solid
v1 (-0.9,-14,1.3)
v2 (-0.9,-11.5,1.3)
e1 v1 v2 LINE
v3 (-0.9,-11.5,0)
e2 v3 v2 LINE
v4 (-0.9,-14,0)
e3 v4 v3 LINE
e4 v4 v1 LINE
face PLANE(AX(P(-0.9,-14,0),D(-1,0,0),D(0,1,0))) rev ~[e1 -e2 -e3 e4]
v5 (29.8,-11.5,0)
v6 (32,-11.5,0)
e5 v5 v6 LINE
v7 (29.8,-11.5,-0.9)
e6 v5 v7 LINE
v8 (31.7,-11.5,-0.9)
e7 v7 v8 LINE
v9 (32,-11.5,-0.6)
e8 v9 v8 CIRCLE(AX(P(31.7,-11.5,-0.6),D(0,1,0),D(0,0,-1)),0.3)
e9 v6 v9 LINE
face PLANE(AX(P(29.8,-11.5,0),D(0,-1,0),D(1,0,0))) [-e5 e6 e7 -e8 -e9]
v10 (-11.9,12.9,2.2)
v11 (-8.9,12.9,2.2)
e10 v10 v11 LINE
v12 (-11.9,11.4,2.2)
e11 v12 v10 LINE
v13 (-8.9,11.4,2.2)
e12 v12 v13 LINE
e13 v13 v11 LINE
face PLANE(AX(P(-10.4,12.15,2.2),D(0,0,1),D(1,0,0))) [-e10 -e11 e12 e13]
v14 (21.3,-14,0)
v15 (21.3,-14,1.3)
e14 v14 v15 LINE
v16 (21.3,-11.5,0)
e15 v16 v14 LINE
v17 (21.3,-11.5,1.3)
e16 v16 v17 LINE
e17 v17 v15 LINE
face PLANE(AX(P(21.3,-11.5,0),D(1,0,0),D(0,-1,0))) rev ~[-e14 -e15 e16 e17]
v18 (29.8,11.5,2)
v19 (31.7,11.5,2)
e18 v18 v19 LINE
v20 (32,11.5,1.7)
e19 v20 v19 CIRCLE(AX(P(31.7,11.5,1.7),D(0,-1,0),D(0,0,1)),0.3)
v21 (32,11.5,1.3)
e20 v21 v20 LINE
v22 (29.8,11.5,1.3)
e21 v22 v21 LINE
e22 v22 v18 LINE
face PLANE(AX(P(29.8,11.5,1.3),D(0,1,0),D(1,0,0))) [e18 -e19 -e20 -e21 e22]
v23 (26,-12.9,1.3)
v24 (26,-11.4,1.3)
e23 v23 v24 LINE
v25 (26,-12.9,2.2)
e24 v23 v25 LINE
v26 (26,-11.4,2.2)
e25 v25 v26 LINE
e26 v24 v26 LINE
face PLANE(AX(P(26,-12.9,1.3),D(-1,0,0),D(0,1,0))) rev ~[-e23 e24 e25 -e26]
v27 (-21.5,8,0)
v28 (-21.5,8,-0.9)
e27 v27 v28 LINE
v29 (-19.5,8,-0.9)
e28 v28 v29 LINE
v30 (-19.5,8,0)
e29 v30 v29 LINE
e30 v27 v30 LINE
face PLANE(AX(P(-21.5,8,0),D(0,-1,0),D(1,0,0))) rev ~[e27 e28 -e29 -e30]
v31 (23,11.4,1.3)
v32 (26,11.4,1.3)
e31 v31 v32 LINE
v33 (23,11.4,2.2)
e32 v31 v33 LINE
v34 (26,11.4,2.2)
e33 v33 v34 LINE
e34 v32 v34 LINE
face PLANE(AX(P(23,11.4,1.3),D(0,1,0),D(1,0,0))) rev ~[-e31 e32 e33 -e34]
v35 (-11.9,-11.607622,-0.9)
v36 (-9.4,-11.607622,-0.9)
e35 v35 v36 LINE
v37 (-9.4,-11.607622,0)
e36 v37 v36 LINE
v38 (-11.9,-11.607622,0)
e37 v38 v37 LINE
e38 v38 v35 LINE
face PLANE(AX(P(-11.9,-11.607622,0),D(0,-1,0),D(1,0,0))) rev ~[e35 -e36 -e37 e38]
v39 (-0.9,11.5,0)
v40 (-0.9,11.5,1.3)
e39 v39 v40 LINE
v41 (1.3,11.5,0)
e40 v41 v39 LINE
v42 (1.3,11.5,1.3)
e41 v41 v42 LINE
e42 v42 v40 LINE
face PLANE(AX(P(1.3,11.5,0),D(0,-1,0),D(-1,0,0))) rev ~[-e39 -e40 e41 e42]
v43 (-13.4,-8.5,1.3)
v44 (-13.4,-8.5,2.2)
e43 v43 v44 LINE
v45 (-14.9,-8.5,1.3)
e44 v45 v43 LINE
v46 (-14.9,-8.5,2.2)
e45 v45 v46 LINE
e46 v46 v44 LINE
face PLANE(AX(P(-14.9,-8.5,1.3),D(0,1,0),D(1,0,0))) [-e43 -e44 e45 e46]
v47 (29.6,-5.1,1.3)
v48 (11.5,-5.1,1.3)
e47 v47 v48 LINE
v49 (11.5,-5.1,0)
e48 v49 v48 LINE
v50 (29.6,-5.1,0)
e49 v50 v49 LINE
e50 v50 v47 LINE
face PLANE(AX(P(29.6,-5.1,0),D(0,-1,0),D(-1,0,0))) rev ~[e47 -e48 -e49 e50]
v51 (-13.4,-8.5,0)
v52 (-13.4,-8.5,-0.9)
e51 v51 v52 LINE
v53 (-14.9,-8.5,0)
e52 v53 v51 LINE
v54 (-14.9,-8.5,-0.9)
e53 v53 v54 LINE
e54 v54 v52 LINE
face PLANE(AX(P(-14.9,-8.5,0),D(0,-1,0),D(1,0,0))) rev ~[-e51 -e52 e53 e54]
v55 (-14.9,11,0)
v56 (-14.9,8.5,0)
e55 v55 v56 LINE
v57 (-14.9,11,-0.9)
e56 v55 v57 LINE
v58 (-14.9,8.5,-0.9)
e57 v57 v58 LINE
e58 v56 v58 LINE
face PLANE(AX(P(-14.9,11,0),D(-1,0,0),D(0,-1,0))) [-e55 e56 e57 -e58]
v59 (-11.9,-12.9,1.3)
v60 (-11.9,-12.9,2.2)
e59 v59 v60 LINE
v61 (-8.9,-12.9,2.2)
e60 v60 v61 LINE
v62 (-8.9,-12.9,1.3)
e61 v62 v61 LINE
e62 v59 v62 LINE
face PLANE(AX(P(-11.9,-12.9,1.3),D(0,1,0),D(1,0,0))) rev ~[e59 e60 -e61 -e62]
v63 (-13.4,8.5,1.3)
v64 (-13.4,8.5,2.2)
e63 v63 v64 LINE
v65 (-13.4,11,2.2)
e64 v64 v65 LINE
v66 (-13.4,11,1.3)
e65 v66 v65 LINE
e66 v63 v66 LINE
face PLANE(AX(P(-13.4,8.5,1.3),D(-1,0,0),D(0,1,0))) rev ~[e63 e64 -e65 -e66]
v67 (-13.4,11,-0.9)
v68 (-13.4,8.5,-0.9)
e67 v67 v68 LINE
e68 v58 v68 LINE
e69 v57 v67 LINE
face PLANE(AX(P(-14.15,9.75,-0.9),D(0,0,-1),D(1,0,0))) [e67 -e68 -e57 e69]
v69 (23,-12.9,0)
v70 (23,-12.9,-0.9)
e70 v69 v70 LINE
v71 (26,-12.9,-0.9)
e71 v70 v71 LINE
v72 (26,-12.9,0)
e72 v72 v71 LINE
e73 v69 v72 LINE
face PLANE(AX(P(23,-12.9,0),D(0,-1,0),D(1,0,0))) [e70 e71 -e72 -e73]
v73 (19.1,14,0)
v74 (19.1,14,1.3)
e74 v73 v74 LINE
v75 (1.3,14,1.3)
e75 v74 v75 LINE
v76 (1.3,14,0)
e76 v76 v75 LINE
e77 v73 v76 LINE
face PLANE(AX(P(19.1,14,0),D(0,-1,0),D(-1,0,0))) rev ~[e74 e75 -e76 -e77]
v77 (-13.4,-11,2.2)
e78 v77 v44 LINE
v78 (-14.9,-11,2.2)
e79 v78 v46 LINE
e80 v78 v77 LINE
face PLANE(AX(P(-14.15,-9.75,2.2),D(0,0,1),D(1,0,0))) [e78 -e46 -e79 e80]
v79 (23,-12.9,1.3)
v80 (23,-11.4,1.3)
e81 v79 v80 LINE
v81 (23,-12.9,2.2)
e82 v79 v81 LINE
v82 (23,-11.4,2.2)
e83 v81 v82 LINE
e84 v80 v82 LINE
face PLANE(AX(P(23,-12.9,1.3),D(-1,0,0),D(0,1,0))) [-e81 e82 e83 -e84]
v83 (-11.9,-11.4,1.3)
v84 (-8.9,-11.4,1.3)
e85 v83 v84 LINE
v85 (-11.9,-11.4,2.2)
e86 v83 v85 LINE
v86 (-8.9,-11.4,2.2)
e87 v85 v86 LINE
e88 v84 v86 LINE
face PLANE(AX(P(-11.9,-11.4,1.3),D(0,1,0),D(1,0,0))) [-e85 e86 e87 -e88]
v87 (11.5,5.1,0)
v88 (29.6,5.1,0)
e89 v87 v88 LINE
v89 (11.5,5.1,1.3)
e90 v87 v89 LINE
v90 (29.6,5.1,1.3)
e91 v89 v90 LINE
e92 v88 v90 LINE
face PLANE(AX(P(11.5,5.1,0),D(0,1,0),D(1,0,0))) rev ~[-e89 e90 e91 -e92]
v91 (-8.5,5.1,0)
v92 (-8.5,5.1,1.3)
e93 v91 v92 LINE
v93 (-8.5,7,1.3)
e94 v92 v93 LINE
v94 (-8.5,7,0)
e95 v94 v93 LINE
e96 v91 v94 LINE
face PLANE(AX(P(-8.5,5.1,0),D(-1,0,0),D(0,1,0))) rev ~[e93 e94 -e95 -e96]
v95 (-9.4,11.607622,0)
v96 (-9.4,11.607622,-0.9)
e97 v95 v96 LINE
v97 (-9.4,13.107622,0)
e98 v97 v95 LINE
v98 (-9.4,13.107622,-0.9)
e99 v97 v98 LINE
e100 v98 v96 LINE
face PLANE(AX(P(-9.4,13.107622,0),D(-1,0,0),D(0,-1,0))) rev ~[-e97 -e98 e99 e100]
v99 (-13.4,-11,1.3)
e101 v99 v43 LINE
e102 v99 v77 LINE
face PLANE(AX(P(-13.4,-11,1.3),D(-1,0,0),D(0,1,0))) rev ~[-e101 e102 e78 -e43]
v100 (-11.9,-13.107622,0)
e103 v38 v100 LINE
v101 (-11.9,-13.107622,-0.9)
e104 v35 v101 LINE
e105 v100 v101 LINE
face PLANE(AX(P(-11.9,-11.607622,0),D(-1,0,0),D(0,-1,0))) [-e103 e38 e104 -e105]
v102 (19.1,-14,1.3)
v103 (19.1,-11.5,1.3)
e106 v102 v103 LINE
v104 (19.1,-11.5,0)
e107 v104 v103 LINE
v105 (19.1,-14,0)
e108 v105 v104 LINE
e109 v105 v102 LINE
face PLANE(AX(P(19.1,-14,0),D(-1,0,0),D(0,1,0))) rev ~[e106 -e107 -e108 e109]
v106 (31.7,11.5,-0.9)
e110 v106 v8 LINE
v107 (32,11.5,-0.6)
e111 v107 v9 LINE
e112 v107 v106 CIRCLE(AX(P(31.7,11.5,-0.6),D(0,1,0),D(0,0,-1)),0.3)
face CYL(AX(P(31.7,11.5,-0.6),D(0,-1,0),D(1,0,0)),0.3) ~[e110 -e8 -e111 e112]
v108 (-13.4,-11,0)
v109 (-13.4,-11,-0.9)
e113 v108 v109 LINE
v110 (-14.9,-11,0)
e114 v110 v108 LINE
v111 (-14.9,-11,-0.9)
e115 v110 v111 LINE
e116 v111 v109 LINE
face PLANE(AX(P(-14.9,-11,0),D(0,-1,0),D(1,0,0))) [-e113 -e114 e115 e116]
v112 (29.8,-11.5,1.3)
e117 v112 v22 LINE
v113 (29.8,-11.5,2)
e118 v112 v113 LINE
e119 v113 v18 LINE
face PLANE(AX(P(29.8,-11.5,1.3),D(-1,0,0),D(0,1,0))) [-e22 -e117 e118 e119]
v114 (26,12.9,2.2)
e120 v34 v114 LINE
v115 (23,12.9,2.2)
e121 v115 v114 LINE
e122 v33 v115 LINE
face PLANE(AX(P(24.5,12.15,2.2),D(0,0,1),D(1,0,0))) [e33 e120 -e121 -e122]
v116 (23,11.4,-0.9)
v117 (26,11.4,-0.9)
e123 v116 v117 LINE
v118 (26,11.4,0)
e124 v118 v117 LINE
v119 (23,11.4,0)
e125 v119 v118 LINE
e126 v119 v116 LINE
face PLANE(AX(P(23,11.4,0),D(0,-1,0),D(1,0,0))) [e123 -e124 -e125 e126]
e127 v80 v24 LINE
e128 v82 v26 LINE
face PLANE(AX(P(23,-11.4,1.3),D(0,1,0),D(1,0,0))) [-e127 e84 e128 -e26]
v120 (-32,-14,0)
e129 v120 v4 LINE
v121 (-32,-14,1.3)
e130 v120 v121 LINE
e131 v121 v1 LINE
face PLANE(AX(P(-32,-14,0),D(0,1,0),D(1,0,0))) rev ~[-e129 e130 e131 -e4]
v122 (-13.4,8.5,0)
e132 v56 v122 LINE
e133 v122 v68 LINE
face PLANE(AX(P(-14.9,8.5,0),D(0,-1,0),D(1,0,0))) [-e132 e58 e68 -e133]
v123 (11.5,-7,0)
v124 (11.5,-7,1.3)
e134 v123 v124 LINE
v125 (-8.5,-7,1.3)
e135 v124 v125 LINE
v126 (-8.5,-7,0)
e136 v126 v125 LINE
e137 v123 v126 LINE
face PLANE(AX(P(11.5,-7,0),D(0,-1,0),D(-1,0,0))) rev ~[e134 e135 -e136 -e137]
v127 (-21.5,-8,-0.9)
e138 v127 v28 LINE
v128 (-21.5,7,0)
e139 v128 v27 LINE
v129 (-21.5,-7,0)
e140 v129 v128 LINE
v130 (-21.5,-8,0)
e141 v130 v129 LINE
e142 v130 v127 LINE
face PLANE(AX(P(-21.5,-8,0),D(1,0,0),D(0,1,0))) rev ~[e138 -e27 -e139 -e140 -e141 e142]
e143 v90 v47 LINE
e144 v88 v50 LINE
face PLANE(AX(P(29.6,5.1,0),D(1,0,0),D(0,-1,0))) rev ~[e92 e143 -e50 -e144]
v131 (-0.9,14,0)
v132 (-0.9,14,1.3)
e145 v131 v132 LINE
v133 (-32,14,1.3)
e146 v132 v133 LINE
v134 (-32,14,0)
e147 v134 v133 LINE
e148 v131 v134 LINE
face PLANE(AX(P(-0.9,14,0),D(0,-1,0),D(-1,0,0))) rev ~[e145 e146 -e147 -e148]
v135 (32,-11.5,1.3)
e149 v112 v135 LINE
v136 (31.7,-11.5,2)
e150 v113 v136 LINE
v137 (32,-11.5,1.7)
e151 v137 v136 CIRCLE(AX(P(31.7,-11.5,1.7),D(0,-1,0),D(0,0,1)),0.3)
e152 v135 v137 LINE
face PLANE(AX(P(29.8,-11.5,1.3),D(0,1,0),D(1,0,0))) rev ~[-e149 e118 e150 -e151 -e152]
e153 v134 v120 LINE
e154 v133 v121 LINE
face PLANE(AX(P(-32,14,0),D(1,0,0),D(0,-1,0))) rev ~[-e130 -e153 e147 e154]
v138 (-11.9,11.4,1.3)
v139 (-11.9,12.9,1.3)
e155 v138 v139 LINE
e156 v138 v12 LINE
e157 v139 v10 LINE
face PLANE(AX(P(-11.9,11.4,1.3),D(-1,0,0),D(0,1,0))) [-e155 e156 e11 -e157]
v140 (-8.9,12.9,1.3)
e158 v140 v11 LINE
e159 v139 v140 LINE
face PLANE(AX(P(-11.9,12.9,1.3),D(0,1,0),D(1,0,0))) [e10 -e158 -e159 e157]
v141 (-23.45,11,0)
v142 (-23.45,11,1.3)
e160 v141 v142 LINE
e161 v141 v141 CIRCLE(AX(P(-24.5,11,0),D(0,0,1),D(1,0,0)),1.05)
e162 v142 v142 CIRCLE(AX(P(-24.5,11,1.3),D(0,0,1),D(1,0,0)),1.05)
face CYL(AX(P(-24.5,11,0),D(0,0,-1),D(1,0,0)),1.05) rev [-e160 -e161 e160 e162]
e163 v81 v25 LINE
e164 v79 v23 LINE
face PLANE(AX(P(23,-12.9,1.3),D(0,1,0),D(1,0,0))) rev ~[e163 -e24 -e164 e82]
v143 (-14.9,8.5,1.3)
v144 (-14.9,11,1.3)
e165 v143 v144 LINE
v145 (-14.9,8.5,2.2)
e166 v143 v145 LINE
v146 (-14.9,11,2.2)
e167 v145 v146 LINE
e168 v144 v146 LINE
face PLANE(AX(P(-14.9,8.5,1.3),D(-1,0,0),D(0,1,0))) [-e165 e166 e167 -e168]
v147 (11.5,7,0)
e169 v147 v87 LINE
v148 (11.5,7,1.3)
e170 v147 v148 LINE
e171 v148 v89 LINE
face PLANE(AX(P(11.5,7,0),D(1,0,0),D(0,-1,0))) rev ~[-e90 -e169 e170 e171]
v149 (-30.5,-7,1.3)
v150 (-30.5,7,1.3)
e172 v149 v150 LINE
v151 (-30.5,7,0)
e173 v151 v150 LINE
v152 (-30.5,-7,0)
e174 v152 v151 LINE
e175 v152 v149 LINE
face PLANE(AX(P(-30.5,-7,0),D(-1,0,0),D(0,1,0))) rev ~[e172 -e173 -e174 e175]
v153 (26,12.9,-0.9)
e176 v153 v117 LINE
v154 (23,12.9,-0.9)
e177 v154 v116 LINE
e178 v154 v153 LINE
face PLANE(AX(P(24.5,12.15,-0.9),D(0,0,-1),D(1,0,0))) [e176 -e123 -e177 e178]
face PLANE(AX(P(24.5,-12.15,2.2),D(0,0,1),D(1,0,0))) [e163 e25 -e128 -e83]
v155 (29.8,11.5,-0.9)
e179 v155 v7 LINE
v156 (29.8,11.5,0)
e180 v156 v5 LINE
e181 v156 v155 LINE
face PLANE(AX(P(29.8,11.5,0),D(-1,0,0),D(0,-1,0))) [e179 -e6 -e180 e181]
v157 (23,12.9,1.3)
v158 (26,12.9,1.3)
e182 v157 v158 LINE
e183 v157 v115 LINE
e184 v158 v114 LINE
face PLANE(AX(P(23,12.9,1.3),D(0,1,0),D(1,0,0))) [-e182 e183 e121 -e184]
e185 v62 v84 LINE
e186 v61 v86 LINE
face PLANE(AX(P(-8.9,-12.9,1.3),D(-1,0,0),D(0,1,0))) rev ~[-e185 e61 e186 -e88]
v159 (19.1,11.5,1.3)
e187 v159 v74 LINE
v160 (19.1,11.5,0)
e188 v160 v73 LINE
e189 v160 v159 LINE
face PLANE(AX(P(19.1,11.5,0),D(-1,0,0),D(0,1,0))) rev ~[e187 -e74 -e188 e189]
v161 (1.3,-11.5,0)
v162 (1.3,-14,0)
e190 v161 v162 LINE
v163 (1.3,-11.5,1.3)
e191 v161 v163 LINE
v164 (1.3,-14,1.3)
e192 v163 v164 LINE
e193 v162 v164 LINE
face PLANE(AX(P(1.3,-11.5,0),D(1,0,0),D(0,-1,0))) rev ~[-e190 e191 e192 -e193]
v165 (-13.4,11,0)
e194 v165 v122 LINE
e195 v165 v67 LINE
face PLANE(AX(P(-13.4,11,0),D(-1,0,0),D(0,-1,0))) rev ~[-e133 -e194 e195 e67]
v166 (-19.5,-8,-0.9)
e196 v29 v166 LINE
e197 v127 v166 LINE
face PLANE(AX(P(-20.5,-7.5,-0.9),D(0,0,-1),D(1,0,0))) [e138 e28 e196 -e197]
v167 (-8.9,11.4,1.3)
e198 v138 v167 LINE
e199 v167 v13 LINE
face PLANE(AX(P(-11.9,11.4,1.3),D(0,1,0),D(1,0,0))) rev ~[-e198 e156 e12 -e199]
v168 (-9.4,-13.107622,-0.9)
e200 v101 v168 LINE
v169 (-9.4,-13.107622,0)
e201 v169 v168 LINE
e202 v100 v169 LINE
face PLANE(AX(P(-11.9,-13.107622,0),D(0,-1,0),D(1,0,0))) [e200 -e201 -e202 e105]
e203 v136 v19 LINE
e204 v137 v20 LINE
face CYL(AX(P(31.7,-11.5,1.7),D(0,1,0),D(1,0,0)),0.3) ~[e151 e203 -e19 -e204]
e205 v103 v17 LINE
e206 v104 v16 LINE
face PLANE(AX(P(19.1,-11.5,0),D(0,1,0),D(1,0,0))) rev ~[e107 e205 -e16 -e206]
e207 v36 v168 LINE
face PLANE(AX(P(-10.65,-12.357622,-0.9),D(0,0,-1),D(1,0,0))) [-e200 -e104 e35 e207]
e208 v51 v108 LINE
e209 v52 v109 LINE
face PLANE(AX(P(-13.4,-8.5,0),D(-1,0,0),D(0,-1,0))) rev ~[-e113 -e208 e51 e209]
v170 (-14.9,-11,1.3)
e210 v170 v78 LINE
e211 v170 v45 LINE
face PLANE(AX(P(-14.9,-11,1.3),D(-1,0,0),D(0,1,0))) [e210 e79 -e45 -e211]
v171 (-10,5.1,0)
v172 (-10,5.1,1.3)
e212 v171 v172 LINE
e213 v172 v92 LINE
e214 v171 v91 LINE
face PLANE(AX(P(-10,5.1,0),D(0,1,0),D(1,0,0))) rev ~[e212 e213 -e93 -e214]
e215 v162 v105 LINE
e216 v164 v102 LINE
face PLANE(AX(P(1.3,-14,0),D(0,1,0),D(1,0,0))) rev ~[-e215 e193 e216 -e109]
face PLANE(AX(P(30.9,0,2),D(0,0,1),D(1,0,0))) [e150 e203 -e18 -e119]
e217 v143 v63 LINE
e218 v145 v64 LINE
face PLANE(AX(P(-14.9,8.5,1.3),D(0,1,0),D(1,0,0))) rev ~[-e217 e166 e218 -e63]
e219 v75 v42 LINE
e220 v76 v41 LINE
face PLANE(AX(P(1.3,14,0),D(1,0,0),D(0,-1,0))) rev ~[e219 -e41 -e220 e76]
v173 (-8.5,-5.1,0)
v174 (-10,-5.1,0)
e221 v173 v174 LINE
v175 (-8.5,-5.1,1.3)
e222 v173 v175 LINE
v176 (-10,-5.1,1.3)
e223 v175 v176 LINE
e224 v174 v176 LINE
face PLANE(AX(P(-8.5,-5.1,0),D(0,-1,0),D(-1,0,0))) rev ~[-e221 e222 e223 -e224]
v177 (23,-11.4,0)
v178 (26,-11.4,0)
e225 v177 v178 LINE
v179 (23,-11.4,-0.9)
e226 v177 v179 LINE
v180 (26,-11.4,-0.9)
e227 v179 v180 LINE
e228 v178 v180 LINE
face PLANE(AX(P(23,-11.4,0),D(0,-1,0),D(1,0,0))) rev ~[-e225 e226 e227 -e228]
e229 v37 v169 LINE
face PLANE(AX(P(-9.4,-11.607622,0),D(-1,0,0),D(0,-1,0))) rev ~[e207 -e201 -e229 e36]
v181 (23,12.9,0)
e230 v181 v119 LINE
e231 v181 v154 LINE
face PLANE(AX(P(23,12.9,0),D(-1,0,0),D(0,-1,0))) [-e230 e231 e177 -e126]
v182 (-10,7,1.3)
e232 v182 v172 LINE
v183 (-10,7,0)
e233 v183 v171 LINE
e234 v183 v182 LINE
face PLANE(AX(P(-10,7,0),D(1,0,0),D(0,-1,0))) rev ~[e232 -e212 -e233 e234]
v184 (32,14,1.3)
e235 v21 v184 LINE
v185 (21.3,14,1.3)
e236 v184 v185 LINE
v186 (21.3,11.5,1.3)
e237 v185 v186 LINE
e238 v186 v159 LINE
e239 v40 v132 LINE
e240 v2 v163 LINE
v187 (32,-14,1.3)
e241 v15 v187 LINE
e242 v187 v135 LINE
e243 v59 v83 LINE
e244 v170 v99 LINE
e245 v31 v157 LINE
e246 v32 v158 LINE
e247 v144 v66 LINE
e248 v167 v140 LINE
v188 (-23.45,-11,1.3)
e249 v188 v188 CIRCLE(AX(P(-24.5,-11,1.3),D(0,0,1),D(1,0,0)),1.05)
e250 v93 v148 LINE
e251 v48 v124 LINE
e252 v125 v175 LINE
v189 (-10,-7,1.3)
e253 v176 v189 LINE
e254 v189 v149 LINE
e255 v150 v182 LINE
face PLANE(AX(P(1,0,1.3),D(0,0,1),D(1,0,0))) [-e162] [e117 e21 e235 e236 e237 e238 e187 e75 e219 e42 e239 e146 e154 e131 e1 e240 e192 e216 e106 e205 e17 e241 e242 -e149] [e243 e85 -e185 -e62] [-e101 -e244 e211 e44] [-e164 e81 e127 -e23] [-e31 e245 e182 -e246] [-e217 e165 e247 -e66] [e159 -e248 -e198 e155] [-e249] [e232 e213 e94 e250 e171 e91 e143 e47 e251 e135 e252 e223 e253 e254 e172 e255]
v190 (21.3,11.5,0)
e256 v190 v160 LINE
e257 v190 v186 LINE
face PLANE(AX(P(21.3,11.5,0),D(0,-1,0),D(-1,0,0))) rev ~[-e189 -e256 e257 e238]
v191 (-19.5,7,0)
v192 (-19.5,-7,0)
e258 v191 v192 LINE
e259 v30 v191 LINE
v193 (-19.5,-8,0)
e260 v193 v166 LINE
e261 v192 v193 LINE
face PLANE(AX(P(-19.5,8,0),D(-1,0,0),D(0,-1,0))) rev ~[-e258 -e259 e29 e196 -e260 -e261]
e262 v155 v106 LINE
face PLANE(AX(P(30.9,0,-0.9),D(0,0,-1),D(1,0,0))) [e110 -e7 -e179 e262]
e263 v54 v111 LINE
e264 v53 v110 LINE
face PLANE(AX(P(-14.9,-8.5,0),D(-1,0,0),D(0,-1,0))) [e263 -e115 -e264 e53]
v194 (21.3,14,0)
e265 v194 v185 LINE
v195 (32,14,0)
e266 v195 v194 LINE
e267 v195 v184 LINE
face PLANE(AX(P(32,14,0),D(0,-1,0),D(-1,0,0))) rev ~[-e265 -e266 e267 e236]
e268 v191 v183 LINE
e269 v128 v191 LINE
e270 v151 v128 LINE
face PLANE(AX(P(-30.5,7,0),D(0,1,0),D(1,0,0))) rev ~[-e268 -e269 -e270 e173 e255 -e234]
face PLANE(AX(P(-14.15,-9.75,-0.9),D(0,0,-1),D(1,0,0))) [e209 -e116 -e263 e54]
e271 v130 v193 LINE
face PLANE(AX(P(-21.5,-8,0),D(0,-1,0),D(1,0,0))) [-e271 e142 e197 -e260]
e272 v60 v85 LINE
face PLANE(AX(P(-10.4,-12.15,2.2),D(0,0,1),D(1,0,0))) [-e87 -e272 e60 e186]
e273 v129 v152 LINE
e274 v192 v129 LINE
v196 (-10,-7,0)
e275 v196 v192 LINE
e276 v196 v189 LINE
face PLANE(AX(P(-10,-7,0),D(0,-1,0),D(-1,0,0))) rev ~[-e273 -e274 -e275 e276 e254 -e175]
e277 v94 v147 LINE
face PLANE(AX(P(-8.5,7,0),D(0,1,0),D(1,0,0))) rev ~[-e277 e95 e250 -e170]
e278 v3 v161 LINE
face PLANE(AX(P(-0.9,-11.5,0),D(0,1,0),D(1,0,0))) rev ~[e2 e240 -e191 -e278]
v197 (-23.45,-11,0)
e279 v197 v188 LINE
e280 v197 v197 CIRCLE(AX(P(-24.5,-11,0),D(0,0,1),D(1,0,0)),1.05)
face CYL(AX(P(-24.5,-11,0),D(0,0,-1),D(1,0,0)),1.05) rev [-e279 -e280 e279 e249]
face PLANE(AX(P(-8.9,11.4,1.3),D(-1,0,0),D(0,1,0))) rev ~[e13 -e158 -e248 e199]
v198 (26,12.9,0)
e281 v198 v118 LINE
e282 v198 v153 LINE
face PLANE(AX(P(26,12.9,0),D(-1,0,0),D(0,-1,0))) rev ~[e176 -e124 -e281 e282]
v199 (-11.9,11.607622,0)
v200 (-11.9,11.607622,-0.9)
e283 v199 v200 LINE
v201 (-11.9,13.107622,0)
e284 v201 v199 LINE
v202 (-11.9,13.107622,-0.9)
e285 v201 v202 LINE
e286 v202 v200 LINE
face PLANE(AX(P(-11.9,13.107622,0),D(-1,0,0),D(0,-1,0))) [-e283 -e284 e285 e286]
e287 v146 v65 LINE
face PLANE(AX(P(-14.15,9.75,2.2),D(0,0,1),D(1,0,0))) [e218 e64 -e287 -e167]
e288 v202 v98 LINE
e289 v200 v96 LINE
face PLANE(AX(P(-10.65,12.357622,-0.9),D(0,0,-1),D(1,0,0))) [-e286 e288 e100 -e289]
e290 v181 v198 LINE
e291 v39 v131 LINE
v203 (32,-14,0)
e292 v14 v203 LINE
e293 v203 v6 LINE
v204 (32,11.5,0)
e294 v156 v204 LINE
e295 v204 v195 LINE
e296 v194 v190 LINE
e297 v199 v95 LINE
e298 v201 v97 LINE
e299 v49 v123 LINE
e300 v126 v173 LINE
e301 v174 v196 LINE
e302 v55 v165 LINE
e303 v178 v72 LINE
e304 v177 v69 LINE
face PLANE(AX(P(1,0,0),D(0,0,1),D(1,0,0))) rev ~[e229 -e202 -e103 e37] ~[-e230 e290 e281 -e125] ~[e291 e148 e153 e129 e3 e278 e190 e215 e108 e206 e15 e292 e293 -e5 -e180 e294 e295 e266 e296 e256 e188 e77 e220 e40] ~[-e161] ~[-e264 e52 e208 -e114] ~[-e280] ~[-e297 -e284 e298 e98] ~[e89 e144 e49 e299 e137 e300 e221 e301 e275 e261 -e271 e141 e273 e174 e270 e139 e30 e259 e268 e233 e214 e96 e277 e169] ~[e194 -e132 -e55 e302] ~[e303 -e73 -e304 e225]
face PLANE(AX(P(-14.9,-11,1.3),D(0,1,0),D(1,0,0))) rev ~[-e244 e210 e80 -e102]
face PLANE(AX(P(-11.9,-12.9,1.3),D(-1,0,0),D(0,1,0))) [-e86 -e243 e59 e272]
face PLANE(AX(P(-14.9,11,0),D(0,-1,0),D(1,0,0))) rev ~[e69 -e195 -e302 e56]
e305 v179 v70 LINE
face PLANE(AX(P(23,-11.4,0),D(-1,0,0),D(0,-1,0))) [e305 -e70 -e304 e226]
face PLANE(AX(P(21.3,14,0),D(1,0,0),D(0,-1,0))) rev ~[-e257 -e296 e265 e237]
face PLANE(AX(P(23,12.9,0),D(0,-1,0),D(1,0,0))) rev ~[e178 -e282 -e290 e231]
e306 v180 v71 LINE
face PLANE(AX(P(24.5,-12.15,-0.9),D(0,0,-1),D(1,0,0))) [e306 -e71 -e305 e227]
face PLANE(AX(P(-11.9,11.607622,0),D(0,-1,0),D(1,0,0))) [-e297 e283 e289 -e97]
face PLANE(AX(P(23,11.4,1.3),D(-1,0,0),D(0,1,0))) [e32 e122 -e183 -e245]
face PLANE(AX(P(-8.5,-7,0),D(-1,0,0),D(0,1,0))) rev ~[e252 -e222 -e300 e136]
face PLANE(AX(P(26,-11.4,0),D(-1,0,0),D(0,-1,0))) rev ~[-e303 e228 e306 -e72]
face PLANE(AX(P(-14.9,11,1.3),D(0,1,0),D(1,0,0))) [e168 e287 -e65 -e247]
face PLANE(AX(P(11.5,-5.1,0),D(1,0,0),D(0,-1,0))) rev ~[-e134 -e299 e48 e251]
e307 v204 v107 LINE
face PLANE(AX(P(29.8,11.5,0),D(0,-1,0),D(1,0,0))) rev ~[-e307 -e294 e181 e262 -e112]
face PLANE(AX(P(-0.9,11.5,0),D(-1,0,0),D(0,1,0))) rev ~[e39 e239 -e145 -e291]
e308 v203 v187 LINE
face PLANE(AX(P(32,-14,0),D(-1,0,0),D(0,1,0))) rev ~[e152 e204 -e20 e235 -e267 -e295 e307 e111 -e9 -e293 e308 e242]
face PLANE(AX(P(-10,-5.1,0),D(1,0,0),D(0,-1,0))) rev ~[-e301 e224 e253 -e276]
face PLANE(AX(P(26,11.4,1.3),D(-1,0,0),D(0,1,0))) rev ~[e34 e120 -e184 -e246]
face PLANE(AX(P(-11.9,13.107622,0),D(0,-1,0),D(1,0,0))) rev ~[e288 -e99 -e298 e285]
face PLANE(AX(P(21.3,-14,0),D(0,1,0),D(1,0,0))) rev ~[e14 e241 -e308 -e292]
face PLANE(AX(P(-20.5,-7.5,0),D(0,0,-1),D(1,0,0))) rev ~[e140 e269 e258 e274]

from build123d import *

# Parameters (mm, degrees)
F0_R      = 1.05
F1_DEPTH  = 1.3
F3_W      = 2.2
F3_H      = 23
F4_DEPTH  = 0.7
F5_W      = 2.5
F5_H      = 1.5
F5_W_2    = 1.5
F5_H_2    = 2.5
F5_W_3    = 3
F5_W_4    = 2.2
F5_H_3    = 23
F6_DEPTH  = 0.9
F7_R      = 0.3
F8_R      = 0.3
F9_W      = 2
F9_H      = 1
F9_H_2    = 14
F10_DEPTH = 0.9
F3_W_2    = 3
F3_H_2    = 1.5
F3_W_3    = 1.5
F3_H_3    = 2.5
F11_DEPTH = 0.9


with BuildPart() as f1:
    # F0 (on Top) → F1 (new body)
    with BuildSketch(Plane.XY):
        Polygon((21.3, -14), (32, -14), (32, 14), (21.3, 14), (21.3, 11.5), (19.1, 11.5), (19.1, 14), (1.3, 14), (1.3, 11.5), (-0.9, 11.5), (-0.9, 14), (-32, 14), (-32, -14), (-0.9, -14), (-0.9, -11.5), (1.3, -11.5), (1.3, -14), (19.1, -14), (19.1, -11.5), (21.3, -11.5), align=None)
        with Locations((-24.5, -11)):
            Circle(F0_R, mode=Mode.SUBTRACT)
        Polygon((-10, 7), (-10, 5.1), (-8.5, 5.1), (-8.5, 7), (11.5, 7), (11.5, 5.1), (29.6, 5.1), (29.6, -5.1), (11.5, -5.1), (11.5, -7), (-8.5, -7), (-8.5, -5.1), (-10, -5.1), (-10, -7), (-30.5, -7), (-30.5, -5.1), (-30.5, 5.1), (-30.5, 7), align=None, mode=Mode.SUBTRACT)
        with Locations((-24.5, 11)):
            Circle(F0_R, mode=Mode.SUBTRACT)
    extrude(amount=F1_DEPTH)

    # F3 (on face) → F4 (join)
    with BuildSketch(Plane.XY.offset(1.3)):
        with Locations((30.9, 0)):
            Rectangle(F3_W, F3_H)
    extrude(amount=F4_DEPTH)

    # F5 (on face) → F6 (join)
    with BuildSketch(Plane(origin=(0, 0, 0), x_dir=(1, 0, 0), z_dir=(0, 0, -1))):
        with Locations((-10.65, 12.3576217964)):
            Rectangle(F5_W, F5_H)
        with Locations((-14.15, 9.75)):
            Rectangle(F5_W_2, F5_H_2)
        with Locations((-14.15, -9.75)):
            Rectangle(F5_W_2, F5_H_2)
        with Locations((-10.65, -12.3576217964)):
            Rectangle(F5_W, F5_H)
        with Locations((24.5, -12.15)):
            Rectangle(F5_W_3, F5_H)
        with Locations((30.9, 0)):
            Rectangle(F5_W_4, F5_H_3)
        with Locations((24.5, 12.15)):
            Rectangle(F5_W_3, F5_H)
    extrude(amount=F6_DEPTH)

    # F7
    f7_edges = [f1.edges().sort_by_distance(p)[0] for p in [
        (32, 0, -0.9),
    ]]
    fillet(f7_edges, radius=F7_R)

    # F8
    f8_edges = [f1.edges().sort_by_distance(p)[0] for p in [
        (32, 0, 2),
    ]]
    fillet(f8_edges, radius=F8_R)

    # F9 (on face) → F10 (join)
    with BuildSketch(Plane(origin=(0, 0, 0), x_dir=(1, 0, 0), z_dir=(0, 0, -1))):
        with Locations((-20.5, 7.5)):
            Rectangle(F9_W, F9_H)
        with Locations((-20.5, -7.5)):
            Rectangle(F9_W, F9_H)
        with Locations((-20.5, 0)):
            Rectangle(F9_W, F9_H_2)
    extrude(amount=F10_DEPTH)

    # F3 (on face) → F11 (join)
    with BuildSketch(Plane.XY.offset(1.3)):
        with Locations((-10.4, 12.15)):
            Rectangle(F3_W_2, F3_H_2)
        with Locations((-14.15, 9.75)):
            Rectangle(F3_W_3, F3_H_3)
        with Locations((-14.15, -9.75)):
            Rectangle(F3_W_3, F3_H_3)
        with Locations((-10.4, -12.15)):
            Rectangle(F3_W_2, F3_H_2)
        with Locations((24.5, -12.15)):
            Rectangle(F3_W_2, F3_H_2)
        with Locations((24.5, 12.15)):
            Rectangle(F3_W_2, F3_H_2)
    extrude(amount=F11_DEPTH)


solid = f1.part
